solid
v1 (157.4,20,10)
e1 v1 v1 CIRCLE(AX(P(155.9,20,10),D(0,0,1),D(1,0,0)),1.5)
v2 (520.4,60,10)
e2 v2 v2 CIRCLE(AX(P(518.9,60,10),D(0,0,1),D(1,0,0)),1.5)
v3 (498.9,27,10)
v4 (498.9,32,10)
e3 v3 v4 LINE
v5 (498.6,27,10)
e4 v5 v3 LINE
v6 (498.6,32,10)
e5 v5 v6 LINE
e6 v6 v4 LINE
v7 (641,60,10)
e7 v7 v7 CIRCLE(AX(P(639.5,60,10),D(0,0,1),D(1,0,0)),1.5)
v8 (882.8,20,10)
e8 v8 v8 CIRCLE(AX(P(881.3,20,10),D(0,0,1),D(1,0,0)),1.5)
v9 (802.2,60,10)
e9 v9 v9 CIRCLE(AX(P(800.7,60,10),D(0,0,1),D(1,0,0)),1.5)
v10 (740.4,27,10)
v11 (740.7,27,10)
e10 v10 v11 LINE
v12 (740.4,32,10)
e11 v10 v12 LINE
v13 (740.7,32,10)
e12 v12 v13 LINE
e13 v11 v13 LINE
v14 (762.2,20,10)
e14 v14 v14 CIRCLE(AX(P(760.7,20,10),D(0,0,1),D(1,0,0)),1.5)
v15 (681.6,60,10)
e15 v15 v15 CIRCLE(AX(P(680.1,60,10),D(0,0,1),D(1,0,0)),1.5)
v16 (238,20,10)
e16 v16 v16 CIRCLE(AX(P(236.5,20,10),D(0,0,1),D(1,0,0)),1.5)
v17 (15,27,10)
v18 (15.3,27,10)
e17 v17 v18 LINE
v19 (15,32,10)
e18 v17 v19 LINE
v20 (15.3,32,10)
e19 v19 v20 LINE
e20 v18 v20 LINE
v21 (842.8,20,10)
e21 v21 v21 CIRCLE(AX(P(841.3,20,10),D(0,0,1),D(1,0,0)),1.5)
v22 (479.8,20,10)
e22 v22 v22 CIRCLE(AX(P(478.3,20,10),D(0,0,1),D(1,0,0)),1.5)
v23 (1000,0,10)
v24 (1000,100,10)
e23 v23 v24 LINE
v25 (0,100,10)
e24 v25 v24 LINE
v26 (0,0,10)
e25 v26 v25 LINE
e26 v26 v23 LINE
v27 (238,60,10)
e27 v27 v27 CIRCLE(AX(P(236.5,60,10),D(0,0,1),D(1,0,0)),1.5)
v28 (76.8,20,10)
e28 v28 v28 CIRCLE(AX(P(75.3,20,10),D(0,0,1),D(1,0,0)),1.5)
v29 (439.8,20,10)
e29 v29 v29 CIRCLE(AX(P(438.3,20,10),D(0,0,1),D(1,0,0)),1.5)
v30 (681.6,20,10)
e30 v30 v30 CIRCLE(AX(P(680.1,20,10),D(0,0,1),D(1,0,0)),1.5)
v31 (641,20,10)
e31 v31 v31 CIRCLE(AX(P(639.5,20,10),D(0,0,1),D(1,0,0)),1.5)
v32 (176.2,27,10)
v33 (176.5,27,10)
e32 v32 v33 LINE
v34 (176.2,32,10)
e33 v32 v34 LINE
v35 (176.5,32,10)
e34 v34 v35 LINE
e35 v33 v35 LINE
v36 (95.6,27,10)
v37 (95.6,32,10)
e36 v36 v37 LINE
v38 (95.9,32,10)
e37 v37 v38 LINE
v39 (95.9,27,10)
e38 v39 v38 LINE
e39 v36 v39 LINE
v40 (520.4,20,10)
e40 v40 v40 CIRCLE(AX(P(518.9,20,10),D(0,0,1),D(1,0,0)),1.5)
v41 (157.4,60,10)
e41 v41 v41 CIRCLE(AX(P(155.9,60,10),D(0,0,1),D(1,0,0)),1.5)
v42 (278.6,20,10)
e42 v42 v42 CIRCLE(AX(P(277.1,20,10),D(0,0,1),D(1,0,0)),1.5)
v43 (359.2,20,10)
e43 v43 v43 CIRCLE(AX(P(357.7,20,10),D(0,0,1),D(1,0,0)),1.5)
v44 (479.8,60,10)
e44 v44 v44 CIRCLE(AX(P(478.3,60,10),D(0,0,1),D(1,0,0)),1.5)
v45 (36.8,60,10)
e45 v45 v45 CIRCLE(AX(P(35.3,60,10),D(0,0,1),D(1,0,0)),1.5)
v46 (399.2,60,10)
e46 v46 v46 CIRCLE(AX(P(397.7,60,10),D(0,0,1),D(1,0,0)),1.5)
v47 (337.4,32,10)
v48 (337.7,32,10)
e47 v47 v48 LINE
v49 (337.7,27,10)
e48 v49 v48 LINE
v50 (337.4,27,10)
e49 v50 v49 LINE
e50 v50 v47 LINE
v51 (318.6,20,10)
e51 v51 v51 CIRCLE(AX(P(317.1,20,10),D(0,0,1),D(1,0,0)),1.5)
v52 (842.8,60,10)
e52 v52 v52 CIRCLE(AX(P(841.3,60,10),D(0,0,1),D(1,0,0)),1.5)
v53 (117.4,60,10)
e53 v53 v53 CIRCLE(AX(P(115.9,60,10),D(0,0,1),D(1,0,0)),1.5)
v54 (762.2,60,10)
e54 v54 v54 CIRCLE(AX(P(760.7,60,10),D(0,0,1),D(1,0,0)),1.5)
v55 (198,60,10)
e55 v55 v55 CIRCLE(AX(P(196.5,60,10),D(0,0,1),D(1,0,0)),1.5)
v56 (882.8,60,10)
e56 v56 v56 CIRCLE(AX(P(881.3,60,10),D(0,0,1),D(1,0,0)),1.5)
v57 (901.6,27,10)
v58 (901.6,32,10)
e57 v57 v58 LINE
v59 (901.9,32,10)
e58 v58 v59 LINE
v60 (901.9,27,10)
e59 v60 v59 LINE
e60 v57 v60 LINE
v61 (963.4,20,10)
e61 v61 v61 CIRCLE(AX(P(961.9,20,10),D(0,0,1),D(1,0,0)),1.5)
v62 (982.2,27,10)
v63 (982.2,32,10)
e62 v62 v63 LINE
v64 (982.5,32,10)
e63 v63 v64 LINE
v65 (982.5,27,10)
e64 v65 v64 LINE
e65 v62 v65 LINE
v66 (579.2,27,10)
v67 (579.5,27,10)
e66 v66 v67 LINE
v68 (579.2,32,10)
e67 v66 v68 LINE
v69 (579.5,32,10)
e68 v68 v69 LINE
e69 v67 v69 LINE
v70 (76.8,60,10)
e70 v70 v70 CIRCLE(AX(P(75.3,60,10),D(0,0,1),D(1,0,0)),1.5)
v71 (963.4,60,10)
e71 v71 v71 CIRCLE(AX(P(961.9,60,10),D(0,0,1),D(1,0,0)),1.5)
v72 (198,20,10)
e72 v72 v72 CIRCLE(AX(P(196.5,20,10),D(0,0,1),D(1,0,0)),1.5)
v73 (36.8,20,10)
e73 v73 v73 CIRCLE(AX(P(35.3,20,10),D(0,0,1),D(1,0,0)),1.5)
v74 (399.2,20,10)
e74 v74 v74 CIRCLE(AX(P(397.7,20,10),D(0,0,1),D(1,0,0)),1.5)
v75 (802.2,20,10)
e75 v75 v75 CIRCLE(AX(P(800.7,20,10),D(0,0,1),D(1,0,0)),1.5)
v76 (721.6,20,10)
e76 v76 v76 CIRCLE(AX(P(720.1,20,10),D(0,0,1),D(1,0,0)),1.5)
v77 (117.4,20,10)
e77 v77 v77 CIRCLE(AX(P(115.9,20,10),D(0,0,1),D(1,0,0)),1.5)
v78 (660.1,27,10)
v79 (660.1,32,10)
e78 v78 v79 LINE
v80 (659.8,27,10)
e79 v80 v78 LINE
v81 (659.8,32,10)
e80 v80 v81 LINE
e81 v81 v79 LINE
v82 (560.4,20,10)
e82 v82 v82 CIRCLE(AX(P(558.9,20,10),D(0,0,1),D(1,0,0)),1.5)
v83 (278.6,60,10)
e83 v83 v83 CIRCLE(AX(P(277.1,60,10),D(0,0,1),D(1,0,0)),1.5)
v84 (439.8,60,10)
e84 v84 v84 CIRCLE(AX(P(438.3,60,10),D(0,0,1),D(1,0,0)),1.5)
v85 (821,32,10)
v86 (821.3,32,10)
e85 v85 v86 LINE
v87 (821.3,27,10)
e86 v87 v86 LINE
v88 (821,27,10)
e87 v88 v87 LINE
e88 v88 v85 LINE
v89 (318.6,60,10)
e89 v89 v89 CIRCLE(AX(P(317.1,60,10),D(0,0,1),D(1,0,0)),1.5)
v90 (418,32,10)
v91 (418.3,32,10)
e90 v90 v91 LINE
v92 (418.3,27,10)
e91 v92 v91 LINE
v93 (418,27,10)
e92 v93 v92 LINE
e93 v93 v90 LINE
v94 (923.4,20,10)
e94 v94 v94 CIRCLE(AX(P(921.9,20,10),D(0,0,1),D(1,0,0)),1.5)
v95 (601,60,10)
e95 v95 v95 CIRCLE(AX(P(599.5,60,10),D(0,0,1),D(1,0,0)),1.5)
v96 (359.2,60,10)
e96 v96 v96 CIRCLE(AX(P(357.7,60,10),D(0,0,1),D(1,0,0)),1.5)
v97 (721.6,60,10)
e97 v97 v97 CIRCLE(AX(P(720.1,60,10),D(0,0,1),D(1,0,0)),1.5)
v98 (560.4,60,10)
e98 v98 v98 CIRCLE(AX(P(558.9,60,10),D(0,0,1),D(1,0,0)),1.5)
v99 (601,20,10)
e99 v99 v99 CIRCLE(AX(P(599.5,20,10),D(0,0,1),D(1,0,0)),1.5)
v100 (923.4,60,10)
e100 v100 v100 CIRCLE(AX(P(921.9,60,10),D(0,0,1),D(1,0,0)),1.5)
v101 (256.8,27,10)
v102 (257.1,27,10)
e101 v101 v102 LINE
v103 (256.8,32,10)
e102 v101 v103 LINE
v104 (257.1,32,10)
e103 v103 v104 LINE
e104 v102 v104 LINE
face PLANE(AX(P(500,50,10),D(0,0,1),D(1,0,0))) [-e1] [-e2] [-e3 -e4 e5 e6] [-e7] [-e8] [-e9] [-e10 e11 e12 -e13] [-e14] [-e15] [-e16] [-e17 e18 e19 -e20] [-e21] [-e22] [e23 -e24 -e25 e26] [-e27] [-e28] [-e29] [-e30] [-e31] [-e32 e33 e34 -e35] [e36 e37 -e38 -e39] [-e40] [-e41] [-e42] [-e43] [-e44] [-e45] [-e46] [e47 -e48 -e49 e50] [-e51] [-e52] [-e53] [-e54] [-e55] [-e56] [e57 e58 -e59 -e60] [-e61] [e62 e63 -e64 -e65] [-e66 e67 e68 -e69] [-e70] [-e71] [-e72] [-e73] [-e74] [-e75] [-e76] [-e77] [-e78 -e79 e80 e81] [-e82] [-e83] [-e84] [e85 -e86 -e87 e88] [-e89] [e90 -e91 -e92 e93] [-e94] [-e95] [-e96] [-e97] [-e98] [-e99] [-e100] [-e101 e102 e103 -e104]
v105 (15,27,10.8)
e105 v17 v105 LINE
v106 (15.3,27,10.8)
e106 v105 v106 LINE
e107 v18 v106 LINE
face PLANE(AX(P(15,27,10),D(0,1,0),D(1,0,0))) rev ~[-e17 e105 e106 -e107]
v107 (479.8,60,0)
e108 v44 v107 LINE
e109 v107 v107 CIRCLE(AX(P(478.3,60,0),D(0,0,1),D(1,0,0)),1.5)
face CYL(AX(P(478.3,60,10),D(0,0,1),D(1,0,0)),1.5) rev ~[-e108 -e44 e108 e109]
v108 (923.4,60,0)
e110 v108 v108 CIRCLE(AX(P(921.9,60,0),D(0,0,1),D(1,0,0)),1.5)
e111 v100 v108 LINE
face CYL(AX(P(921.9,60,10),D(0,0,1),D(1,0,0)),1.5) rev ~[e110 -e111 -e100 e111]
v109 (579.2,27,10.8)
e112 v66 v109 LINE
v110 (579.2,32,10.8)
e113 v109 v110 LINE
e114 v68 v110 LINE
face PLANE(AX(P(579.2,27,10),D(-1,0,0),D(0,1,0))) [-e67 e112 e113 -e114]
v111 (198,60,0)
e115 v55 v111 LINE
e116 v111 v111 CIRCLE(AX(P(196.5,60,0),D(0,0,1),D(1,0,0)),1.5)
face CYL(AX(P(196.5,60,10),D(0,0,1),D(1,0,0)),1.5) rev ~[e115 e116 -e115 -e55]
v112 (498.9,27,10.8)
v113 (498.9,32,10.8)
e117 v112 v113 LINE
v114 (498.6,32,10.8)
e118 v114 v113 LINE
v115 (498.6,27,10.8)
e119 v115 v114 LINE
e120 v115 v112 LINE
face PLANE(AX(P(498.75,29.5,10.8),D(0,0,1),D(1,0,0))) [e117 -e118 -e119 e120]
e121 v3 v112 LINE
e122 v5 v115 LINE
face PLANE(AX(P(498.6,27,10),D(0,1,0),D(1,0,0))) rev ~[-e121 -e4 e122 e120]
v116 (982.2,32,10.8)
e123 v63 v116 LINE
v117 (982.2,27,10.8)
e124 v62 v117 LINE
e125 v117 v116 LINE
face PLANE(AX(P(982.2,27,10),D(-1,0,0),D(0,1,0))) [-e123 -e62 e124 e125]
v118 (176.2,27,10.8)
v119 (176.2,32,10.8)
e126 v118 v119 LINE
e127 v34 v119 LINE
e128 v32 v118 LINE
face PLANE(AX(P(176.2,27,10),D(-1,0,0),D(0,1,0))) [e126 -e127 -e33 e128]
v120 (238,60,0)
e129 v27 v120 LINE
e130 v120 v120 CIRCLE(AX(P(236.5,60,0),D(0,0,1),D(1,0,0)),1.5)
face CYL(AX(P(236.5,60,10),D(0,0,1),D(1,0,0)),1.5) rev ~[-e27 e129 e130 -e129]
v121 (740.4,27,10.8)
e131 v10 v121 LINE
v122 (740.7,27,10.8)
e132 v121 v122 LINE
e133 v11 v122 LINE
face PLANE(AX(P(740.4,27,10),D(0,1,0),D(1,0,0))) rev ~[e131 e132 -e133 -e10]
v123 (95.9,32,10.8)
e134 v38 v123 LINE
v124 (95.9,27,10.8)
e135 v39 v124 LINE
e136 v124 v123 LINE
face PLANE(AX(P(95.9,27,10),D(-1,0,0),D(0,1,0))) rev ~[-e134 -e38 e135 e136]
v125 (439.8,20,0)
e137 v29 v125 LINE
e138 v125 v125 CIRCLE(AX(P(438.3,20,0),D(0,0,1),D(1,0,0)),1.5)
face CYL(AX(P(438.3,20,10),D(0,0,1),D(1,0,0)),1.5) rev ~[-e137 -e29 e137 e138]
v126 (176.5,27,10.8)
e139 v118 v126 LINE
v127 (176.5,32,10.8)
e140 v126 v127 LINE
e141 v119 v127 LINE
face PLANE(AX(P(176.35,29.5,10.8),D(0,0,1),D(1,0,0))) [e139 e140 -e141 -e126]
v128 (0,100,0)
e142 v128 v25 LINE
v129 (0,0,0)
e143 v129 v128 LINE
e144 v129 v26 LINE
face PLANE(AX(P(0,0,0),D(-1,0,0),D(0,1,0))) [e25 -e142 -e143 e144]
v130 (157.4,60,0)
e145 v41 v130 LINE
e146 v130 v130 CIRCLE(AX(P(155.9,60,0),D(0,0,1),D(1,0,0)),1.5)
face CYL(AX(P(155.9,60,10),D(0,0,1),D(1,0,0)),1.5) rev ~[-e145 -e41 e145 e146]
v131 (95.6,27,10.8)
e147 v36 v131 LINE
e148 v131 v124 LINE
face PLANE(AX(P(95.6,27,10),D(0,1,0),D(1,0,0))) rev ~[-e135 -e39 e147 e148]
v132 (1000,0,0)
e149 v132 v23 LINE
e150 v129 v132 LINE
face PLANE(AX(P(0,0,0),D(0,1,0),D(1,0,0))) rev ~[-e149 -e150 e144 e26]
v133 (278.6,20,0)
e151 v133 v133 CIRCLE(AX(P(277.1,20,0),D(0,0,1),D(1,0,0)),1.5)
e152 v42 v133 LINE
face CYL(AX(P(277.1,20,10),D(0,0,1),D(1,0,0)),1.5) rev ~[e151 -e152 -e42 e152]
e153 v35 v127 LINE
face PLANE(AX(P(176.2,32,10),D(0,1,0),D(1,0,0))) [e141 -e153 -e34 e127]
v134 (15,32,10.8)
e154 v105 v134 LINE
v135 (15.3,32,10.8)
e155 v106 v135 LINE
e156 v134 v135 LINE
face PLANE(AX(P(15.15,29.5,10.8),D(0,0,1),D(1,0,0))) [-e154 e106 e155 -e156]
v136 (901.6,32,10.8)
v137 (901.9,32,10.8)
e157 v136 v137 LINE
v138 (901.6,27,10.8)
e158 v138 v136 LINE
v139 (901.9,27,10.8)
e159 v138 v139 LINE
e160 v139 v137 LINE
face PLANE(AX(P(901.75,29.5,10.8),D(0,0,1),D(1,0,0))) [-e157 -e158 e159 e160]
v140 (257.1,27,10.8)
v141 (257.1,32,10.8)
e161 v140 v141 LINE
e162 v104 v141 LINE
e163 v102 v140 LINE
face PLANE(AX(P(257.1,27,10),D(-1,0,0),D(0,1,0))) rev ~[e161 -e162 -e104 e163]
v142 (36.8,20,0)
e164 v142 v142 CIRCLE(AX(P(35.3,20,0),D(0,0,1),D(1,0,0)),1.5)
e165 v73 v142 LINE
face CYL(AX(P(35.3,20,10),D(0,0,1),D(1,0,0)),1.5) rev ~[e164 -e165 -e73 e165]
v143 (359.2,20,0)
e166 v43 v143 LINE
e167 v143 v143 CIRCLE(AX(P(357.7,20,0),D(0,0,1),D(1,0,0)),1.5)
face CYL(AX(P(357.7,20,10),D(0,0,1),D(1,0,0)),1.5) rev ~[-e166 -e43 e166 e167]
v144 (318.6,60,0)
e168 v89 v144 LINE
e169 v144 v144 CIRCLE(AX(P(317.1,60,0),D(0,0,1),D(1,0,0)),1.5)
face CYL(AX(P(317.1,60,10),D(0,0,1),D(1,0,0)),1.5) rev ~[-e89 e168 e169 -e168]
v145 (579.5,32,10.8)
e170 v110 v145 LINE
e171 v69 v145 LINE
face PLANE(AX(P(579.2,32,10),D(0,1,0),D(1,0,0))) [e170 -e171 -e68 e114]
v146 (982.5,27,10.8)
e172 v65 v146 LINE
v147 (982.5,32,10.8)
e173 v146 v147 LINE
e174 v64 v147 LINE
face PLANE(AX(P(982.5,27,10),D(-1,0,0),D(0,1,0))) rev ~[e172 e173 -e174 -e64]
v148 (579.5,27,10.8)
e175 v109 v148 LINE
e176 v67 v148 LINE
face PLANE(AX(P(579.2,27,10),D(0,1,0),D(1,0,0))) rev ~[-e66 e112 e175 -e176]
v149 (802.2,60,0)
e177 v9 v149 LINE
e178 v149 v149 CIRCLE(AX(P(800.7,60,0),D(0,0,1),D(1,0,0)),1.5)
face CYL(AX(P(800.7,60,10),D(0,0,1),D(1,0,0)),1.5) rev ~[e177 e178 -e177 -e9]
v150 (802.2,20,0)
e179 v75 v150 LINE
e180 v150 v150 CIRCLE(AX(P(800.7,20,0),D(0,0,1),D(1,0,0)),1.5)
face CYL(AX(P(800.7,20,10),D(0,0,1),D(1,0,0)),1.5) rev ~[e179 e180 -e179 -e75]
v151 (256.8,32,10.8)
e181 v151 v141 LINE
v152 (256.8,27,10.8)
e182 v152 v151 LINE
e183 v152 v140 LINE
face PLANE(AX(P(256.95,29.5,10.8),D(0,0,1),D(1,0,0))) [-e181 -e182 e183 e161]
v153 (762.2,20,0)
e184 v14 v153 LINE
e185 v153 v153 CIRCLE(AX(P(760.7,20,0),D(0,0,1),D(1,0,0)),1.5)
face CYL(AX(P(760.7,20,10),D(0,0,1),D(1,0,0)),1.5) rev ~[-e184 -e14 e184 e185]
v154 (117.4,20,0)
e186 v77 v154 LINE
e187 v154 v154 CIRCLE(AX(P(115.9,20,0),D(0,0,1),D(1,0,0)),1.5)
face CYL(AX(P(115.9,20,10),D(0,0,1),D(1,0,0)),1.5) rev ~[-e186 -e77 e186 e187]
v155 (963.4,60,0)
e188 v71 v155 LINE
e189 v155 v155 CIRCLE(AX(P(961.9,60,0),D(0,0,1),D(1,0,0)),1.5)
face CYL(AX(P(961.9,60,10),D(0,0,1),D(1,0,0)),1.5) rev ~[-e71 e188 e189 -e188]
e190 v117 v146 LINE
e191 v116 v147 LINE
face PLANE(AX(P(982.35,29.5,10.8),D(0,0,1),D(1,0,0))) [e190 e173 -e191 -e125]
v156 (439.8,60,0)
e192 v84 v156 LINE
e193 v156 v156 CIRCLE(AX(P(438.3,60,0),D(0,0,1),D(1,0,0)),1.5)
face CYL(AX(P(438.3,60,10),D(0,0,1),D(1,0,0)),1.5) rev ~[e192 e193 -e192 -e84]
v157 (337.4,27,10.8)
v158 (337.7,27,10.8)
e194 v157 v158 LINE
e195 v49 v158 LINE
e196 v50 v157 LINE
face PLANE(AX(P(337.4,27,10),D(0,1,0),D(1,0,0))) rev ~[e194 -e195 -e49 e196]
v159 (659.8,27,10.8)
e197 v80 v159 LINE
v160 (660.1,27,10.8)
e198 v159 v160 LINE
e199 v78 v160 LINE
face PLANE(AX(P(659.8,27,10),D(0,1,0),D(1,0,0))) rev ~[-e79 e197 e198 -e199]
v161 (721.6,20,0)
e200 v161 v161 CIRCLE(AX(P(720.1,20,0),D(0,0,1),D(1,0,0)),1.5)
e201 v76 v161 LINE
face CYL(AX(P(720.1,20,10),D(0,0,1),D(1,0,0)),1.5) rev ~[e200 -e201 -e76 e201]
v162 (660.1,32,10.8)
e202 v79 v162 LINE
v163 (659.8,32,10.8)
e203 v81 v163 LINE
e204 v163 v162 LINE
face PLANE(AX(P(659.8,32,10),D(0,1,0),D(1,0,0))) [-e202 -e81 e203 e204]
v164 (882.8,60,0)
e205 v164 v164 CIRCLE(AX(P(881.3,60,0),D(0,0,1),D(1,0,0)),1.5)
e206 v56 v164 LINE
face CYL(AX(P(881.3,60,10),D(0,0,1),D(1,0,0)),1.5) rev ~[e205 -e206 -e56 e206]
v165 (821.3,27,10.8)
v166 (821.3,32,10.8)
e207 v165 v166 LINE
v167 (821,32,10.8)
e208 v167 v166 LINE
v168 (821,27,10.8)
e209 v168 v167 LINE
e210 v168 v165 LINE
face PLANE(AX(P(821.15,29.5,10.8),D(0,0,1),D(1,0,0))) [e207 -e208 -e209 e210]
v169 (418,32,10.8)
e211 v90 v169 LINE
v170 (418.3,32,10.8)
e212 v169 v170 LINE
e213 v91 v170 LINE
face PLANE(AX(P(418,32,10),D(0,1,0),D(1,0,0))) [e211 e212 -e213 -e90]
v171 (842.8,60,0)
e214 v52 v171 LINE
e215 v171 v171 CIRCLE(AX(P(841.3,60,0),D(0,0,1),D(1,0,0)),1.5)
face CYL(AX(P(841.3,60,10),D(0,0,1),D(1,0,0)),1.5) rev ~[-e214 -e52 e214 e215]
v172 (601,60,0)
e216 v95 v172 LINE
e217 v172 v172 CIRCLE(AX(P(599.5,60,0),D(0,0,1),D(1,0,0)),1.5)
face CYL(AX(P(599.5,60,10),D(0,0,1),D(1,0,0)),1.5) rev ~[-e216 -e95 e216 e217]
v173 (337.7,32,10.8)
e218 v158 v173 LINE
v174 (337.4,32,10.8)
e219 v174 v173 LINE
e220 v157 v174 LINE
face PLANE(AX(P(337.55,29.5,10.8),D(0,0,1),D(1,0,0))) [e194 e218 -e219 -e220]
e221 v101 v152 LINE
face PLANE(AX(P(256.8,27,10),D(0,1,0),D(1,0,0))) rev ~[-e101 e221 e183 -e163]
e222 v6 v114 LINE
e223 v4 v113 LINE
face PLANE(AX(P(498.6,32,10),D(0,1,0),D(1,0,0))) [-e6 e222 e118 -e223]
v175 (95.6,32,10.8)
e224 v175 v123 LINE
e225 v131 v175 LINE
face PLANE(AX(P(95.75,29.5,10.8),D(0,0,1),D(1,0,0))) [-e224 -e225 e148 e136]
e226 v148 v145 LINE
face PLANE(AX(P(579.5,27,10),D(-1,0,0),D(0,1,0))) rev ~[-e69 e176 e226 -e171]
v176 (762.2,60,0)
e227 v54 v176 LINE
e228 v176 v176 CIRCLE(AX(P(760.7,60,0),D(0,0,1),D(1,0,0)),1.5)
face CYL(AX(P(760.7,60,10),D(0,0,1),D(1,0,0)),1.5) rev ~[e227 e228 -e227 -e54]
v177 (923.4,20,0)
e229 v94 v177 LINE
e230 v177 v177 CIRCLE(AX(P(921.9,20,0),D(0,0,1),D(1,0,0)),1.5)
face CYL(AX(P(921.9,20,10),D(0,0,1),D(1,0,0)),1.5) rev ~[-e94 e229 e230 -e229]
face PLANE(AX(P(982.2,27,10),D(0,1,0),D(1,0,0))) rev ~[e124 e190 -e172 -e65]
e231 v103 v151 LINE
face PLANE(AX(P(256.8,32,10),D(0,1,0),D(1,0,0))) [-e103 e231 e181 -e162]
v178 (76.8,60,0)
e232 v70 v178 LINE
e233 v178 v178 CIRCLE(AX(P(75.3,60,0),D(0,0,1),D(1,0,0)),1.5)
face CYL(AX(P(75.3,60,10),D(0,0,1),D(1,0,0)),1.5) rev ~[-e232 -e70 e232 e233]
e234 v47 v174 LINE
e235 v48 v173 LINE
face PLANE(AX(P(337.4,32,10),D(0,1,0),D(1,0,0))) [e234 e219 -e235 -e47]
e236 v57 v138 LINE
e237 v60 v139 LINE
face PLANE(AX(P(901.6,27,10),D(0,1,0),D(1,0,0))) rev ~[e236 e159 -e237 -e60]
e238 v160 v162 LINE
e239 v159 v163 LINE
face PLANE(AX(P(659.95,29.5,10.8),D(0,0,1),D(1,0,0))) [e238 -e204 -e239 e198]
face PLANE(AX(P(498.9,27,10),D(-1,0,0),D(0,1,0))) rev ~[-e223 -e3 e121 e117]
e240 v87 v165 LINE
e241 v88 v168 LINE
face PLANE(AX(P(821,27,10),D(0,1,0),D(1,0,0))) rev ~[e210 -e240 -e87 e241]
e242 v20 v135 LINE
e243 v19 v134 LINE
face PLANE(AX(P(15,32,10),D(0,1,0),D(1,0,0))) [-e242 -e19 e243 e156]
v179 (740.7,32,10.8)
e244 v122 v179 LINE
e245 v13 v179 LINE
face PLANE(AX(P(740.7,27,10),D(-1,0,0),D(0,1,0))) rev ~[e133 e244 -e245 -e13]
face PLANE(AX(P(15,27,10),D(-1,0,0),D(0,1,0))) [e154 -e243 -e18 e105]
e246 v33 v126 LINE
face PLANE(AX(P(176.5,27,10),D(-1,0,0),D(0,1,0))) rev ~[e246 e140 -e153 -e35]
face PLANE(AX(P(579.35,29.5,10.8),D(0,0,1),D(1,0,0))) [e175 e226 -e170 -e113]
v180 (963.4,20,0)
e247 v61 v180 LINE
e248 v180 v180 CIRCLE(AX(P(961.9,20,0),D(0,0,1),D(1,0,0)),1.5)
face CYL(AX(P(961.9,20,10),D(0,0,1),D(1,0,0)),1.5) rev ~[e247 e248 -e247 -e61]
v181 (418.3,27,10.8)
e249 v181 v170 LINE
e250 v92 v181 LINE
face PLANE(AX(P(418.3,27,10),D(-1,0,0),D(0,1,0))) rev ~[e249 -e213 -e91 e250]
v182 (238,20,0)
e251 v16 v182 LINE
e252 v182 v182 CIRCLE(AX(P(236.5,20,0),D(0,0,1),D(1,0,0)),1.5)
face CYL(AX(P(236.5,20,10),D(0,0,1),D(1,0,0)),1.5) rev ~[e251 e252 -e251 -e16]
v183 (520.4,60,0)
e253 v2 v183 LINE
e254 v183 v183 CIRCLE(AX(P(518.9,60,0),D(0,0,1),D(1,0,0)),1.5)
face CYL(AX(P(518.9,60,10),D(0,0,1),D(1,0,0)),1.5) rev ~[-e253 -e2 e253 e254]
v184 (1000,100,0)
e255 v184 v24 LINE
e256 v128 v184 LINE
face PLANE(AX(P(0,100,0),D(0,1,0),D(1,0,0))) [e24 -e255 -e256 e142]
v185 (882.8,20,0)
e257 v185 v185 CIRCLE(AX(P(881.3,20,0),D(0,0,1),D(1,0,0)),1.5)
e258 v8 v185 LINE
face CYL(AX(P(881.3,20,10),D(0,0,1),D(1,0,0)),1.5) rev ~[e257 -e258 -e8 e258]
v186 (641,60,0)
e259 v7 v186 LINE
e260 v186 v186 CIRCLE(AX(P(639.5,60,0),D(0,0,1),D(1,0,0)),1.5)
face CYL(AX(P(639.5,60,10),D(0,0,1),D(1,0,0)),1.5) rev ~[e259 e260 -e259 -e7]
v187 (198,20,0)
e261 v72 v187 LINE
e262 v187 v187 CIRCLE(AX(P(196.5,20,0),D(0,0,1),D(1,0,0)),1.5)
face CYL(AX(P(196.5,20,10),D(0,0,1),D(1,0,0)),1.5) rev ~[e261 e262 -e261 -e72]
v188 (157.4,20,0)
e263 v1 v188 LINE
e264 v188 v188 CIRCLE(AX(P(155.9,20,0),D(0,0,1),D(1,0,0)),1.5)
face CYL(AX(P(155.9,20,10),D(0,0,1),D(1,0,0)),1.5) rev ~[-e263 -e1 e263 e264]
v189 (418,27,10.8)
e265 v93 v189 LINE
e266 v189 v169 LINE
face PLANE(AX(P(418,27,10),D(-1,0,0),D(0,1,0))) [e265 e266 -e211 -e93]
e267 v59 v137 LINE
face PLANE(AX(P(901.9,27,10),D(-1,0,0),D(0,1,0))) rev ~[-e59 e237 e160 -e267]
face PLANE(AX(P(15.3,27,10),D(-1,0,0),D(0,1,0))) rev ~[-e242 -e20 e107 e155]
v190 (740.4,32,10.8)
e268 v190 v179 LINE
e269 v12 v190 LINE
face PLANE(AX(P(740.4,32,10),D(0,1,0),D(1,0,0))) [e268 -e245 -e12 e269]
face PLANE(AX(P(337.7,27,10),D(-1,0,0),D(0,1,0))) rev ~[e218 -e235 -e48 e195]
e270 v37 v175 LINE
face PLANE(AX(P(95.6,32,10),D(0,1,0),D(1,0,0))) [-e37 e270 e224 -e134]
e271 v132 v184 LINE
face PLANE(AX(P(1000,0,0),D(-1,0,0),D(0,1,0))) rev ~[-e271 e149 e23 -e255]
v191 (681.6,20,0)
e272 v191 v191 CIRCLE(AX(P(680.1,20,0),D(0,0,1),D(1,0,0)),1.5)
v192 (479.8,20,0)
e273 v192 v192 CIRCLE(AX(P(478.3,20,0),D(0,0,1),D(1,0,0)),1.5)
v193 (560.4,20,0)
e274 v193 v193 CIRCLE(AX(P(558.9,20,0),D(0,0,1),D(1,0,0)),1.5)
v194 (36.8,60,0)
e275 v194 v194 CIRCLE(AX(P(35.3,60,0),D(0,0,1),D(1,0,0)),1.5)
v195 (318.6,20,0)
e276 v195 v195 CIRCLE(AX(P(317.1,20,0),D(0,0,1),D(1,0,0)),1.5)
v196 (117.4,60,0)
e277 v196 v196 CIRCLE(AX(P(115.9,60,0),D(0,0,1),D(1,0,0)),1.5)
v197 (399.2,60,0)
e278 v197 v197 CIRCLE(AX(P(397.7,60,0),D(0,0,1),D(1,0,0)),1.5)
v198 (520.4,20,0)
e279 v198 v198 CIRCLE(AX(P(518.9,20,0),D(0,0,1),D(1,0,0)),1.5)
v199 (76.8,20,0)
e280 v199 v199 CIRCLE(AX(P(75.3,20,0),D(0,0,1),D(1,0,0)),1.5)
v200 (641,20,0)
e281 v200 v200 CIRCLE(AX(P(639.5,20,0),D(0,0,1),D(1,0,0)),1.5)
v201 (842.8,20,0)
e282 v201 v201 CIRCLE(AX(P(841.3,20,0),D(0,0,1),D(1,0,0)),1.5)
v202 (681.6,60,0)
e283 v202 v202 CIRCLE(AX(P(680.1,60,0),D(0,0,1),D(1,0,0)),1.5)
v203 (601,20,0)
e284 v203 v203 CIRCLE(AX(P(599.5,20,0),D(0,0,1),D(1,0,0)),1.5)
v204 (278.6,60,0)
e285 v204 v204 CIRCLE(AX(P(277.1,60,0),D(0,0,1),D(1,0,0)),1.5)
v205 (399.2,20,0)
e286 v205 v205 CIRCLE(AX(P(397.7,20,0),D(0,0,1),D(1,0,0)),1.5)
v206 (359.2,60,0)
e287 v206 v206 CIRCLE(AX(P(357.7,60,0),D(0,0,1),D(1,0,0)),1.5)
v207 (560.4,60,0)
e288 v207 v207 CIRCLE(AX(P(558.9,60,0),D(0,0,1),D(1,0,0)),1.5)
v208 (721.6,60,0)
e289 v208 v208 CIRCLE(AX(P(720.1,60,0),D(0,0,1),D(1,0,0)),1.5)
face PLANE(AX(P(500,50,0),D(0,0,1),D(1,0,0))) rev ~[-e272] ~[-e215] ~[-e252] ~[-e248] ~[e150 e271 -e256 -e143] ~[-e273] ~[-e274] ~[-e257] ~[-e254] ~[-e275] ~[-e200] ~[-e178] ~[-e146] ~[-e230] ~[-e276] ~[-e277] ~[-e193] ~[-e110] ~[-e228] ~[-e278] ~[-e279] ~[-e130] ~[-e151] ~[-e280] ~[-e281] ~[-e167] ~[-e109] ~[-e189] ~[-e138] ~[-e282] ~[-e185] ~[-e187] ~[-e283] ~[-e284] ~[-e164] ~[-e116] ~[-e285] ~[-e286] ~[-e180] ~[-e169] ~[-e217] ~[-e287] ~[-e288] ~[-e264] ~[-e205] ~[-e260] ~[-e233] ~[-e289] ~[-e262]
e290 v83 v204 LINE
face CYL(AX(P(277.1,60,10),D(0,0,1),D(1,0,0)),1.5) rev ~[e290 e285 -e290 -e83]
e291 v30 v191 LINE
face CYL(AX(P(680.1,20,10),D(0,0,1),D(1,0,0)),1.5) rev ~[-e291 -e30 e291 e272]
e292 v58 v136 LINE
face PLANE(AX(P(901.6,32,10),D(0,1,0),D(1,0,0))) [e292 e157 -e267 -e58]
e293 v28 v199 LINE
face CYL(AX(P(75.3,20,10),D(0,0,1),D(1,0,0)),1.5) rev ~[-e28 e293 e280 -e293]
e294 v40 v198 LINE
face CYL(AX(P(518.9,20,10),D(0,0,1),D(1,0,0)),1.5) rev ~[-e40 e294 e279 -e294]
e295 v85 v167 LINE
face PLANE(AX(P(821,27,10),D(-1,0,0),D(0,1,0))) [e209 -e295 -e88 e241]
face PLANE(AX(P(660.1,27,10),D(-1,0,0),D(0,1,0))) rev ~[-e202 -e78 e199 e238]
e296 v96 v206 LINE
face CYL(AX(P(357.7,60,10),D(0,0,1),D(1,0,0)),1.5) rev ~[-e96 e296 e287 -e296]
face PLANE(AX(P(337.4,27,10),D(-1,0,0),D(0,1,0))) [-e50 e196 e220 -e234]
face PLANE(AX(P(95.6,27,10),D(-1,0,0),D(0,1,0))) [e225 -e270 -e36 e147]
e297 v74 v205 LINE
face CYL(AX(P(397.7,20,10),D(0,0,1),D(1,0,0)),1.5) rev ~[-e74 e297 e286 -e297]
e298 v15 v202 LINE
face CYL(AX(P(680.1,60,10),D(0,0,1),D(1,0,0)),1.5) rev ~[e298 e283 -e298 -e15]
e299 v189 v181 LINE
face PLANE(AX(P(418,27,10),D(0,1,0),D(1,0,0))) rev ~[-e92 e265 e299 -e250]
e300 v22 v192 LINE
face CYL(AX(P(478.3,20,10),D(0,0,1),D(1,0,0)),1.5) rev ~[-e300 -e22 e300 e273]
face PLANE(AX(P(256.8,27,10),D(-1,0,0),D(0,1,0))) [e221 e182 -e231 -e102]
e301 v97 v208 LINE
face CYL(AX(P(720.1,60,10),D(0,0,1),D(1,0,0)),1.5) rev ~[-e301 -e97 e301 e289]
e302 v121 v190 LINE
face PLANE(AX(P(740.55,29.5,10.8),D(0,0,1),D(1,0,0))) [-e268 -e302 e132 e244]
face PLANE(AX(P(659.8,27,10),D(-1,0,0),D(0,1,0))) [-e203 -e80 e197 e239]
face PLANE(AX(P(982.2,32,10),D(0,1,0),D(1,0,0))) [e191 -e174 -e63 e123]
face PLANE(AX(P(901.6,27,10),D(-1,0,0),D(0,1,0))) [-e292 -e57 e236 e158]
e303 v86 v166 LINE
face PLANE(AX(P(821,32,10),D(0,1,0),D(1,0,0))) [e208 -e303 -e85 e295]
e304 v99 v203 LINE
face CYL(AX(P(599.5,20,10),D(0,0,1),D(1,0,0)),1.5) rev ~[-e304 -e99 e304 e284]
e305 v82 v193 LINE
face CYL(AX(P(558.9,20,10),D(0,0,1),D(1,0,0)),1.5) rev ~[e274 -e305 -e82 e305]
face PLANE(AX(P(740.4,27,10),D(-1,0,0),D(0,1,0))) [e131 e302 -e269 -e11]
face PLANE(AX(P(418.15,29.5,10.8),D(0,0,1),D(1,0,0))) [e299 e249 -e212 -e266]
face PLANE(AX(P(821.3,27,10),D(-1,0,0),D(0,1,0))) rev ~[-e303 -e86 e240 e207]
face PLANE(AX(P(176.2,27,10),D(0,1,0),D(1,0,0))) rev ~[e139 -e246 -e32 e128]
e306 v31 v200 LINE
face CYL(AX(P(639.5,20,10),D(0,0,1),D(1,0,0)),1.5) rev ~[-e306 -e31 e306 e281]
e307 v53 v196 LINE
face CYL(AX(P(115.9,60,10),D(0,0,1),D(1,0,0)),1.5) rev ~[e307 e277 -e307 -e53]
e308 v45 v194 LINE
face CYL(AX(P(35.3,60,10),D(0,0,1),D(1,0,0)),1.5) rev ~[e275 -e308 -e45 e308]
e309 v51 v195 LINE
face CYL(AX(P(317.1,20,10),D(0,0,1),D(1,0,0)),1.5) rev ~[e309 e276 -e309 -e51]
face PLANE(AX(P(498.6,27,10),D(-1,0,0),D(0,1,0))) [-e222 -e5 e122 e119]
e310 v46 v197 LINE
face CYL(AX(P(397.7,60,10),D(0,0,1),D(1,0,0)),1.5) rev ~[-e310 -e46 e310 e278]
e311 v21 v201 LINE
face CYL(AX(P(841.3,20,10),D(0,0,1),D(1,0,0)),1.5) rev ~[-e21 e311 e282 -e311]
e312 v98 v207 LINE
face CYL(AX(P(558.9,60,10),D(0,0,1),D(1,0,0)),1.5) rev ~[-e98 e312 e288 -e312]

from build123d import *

# Parameters (mm, degrees)
F0_W     = 1000
F0_H     = 100
F1_DEPTH = 10
F2_W     = 0.3
F2_H     = 5
F3_DEPTH = 0.8
F4_R     = 1.5
F5_DEPTH = 10.001


with BuildPart() as f1:
    # F0 (on Top) → F1 (new body)
    with BuildSketch(Plane.XY):
        with Locations((500, 50)):
            Rectangle(F0_W, F0_H)
    extrude(amount=F1_DEPTH)

    # F2 (on face) → F3 (join)
    with BuildSketch(Plane.XY.offset(10)):
        with Locations((15.15, 29.5)):
            Rectangle(F2_W, F2_H)
        with Locations((95.75, 29.5)):
            Rectangle(F2_W, F2_H)
        with Locations((176.35, 29.5)):
            Rectangle(F2_W, F2_H)
        with Locations((256.95, 29.5)):
            Rectangle(F2_W, F2_H)
        with Locations((337.55, 29.5)):
            Rectangle(F2_W, F2_H)
        with Locations((418.15, 29.5)):
            Rectangle(F2_W, F2_H)
        with Locations((498.75, 29.5)):
            Rectangle(F2_W, F2_H)
        with Locations((579.35, 29.5)):
            Rectangle(F2_W, F2_H)
        with Locations((659.95, 29.5)):
            Rectangle(F2_W, F2_H)
        with Locations((740.55, 29.5)):
            Rectangle(F2_W, F2_H)
        with Locations((821.15, 29.5)):
            Rectangle(F2_W, F2_H)
        with Locations((901.75, 29.5)):
            Rectangle(F2_W, F2_H)
        with Locations((982.35, 29.5)):
            Rectangle(F2_W, F2_H)
    extrude(amount=F3_DEPTH)

    # F4 (on face) → F5 (cut, through all)
    with BuildSketch(Plane.XY.offset(10)):
        with Locations((35.3, 20)):
            Circle(F4_R)
        with Locations((75.3, 20)):
            Circle(F4_R)
        with Locations((35.3, 60)):
            Circle(F4_R)
        with Locations((75.3, 60)):
            Circle(F4_R)
        with Locations((115.9, 20)):
            Circle(F4_R)
        with Locations((115.9, 60)):
            Circle(F4_R)
        with Locations((155.9, 60)):
            Circle(F4_R)
        with Locations((155.9, 20)):
            Circle(F4_R)
        with Locations((196.5, 20)):
            Circle(F4_R)
        with Locations((196.5, 60)):
            Circle(F4_R)
        with Locations((236.5, 60)):
            Circle(F4_R)
        with Locations((236.5, 20)):
            Circle(F4_R)
        with Locations((277.1, 20)):
            Circle(F4_R)
        with Locations((277.1, 60)):
            Circle(F4_R)
        with Locations((317.1, 60)):
            Circle(F4_R)
        with Locations((317.1, 20)):
            Circle(F4_R)
        with Locations((357.7, 20)):
            Circle(F4_R)
        with Locations((357.7, 60)):
            Circle(F4_R)
        with Locations((397.7, 60)):
            Circle(F4_R)
        with Locations((397.7, 20)):
            Circle(F4_R)
        with Locations((438.3, 20)):
            Circle(F4_R)
        with Locations((438.3, 60)):
            Circle(F4_R)
        with Locations((478.3, 60)):
            Circle(F4_R)
        with Locations((478.3, 20)):
            Circle(F4_R)
        with Locations((518.9, 20)):
            Circle(F4_R)
        with Locations((518.9, 60)):
            Circle(F4_R)
        with Locations((558.9, 60)):
            Circle(F4_R)
        with Locations((558.9, 20)):
            Circle(F4_R)
        with Locations((599.5, 20)):
            Circle(F4_R)
        with Locations((599.5, 60)):
            Circle(F4_R)
        with Locations((639.5, 60)):
            Circle(F4_R)
        with Locations((639.5, 20)):
            Circle(F4_R)
        with Locations((680.1, 20)):
            Circle(F4_R)
        with Locations((680.1, 60)):
            Circle(F4_R)
        with Locations((720.1, 60)):
            Circle(F4_R)
        with Locations((720.1, 20)):
            Circle(F4_R)
        with Locations((760.7, 20)):
            Circle(F4_R)
        with Locations((760.7, 60)):
            Circle(F4_R)
        with Locations((800.7, 60)):
            Circle(F4_R)
        with Locations((800.7, 20)):
            Circle(F4_R)
        with Locations((841.3, 20)):
            Circle(F4_R)
        with Locations((841.3, 60)):
            Circle(F4_R)
        with Locations((881.3, 60)):
            Circle(F4_R)
        with Locations((881.3, 20)):
            Circle(F4_R)
        with Locations((921.9, 20)):
            Circle(F4_R)
        with Locations((921.9, 60)):
            Circle(F4_R)
        with Locations((961.9, 60)):
            Circle(F4_R)
        with Locations((961.9, 20)):
            Circle(F4_R)
    extrude(amount=-F5_DEPTH, mode=Mode.SUBTRACT)


solid = f1.part
